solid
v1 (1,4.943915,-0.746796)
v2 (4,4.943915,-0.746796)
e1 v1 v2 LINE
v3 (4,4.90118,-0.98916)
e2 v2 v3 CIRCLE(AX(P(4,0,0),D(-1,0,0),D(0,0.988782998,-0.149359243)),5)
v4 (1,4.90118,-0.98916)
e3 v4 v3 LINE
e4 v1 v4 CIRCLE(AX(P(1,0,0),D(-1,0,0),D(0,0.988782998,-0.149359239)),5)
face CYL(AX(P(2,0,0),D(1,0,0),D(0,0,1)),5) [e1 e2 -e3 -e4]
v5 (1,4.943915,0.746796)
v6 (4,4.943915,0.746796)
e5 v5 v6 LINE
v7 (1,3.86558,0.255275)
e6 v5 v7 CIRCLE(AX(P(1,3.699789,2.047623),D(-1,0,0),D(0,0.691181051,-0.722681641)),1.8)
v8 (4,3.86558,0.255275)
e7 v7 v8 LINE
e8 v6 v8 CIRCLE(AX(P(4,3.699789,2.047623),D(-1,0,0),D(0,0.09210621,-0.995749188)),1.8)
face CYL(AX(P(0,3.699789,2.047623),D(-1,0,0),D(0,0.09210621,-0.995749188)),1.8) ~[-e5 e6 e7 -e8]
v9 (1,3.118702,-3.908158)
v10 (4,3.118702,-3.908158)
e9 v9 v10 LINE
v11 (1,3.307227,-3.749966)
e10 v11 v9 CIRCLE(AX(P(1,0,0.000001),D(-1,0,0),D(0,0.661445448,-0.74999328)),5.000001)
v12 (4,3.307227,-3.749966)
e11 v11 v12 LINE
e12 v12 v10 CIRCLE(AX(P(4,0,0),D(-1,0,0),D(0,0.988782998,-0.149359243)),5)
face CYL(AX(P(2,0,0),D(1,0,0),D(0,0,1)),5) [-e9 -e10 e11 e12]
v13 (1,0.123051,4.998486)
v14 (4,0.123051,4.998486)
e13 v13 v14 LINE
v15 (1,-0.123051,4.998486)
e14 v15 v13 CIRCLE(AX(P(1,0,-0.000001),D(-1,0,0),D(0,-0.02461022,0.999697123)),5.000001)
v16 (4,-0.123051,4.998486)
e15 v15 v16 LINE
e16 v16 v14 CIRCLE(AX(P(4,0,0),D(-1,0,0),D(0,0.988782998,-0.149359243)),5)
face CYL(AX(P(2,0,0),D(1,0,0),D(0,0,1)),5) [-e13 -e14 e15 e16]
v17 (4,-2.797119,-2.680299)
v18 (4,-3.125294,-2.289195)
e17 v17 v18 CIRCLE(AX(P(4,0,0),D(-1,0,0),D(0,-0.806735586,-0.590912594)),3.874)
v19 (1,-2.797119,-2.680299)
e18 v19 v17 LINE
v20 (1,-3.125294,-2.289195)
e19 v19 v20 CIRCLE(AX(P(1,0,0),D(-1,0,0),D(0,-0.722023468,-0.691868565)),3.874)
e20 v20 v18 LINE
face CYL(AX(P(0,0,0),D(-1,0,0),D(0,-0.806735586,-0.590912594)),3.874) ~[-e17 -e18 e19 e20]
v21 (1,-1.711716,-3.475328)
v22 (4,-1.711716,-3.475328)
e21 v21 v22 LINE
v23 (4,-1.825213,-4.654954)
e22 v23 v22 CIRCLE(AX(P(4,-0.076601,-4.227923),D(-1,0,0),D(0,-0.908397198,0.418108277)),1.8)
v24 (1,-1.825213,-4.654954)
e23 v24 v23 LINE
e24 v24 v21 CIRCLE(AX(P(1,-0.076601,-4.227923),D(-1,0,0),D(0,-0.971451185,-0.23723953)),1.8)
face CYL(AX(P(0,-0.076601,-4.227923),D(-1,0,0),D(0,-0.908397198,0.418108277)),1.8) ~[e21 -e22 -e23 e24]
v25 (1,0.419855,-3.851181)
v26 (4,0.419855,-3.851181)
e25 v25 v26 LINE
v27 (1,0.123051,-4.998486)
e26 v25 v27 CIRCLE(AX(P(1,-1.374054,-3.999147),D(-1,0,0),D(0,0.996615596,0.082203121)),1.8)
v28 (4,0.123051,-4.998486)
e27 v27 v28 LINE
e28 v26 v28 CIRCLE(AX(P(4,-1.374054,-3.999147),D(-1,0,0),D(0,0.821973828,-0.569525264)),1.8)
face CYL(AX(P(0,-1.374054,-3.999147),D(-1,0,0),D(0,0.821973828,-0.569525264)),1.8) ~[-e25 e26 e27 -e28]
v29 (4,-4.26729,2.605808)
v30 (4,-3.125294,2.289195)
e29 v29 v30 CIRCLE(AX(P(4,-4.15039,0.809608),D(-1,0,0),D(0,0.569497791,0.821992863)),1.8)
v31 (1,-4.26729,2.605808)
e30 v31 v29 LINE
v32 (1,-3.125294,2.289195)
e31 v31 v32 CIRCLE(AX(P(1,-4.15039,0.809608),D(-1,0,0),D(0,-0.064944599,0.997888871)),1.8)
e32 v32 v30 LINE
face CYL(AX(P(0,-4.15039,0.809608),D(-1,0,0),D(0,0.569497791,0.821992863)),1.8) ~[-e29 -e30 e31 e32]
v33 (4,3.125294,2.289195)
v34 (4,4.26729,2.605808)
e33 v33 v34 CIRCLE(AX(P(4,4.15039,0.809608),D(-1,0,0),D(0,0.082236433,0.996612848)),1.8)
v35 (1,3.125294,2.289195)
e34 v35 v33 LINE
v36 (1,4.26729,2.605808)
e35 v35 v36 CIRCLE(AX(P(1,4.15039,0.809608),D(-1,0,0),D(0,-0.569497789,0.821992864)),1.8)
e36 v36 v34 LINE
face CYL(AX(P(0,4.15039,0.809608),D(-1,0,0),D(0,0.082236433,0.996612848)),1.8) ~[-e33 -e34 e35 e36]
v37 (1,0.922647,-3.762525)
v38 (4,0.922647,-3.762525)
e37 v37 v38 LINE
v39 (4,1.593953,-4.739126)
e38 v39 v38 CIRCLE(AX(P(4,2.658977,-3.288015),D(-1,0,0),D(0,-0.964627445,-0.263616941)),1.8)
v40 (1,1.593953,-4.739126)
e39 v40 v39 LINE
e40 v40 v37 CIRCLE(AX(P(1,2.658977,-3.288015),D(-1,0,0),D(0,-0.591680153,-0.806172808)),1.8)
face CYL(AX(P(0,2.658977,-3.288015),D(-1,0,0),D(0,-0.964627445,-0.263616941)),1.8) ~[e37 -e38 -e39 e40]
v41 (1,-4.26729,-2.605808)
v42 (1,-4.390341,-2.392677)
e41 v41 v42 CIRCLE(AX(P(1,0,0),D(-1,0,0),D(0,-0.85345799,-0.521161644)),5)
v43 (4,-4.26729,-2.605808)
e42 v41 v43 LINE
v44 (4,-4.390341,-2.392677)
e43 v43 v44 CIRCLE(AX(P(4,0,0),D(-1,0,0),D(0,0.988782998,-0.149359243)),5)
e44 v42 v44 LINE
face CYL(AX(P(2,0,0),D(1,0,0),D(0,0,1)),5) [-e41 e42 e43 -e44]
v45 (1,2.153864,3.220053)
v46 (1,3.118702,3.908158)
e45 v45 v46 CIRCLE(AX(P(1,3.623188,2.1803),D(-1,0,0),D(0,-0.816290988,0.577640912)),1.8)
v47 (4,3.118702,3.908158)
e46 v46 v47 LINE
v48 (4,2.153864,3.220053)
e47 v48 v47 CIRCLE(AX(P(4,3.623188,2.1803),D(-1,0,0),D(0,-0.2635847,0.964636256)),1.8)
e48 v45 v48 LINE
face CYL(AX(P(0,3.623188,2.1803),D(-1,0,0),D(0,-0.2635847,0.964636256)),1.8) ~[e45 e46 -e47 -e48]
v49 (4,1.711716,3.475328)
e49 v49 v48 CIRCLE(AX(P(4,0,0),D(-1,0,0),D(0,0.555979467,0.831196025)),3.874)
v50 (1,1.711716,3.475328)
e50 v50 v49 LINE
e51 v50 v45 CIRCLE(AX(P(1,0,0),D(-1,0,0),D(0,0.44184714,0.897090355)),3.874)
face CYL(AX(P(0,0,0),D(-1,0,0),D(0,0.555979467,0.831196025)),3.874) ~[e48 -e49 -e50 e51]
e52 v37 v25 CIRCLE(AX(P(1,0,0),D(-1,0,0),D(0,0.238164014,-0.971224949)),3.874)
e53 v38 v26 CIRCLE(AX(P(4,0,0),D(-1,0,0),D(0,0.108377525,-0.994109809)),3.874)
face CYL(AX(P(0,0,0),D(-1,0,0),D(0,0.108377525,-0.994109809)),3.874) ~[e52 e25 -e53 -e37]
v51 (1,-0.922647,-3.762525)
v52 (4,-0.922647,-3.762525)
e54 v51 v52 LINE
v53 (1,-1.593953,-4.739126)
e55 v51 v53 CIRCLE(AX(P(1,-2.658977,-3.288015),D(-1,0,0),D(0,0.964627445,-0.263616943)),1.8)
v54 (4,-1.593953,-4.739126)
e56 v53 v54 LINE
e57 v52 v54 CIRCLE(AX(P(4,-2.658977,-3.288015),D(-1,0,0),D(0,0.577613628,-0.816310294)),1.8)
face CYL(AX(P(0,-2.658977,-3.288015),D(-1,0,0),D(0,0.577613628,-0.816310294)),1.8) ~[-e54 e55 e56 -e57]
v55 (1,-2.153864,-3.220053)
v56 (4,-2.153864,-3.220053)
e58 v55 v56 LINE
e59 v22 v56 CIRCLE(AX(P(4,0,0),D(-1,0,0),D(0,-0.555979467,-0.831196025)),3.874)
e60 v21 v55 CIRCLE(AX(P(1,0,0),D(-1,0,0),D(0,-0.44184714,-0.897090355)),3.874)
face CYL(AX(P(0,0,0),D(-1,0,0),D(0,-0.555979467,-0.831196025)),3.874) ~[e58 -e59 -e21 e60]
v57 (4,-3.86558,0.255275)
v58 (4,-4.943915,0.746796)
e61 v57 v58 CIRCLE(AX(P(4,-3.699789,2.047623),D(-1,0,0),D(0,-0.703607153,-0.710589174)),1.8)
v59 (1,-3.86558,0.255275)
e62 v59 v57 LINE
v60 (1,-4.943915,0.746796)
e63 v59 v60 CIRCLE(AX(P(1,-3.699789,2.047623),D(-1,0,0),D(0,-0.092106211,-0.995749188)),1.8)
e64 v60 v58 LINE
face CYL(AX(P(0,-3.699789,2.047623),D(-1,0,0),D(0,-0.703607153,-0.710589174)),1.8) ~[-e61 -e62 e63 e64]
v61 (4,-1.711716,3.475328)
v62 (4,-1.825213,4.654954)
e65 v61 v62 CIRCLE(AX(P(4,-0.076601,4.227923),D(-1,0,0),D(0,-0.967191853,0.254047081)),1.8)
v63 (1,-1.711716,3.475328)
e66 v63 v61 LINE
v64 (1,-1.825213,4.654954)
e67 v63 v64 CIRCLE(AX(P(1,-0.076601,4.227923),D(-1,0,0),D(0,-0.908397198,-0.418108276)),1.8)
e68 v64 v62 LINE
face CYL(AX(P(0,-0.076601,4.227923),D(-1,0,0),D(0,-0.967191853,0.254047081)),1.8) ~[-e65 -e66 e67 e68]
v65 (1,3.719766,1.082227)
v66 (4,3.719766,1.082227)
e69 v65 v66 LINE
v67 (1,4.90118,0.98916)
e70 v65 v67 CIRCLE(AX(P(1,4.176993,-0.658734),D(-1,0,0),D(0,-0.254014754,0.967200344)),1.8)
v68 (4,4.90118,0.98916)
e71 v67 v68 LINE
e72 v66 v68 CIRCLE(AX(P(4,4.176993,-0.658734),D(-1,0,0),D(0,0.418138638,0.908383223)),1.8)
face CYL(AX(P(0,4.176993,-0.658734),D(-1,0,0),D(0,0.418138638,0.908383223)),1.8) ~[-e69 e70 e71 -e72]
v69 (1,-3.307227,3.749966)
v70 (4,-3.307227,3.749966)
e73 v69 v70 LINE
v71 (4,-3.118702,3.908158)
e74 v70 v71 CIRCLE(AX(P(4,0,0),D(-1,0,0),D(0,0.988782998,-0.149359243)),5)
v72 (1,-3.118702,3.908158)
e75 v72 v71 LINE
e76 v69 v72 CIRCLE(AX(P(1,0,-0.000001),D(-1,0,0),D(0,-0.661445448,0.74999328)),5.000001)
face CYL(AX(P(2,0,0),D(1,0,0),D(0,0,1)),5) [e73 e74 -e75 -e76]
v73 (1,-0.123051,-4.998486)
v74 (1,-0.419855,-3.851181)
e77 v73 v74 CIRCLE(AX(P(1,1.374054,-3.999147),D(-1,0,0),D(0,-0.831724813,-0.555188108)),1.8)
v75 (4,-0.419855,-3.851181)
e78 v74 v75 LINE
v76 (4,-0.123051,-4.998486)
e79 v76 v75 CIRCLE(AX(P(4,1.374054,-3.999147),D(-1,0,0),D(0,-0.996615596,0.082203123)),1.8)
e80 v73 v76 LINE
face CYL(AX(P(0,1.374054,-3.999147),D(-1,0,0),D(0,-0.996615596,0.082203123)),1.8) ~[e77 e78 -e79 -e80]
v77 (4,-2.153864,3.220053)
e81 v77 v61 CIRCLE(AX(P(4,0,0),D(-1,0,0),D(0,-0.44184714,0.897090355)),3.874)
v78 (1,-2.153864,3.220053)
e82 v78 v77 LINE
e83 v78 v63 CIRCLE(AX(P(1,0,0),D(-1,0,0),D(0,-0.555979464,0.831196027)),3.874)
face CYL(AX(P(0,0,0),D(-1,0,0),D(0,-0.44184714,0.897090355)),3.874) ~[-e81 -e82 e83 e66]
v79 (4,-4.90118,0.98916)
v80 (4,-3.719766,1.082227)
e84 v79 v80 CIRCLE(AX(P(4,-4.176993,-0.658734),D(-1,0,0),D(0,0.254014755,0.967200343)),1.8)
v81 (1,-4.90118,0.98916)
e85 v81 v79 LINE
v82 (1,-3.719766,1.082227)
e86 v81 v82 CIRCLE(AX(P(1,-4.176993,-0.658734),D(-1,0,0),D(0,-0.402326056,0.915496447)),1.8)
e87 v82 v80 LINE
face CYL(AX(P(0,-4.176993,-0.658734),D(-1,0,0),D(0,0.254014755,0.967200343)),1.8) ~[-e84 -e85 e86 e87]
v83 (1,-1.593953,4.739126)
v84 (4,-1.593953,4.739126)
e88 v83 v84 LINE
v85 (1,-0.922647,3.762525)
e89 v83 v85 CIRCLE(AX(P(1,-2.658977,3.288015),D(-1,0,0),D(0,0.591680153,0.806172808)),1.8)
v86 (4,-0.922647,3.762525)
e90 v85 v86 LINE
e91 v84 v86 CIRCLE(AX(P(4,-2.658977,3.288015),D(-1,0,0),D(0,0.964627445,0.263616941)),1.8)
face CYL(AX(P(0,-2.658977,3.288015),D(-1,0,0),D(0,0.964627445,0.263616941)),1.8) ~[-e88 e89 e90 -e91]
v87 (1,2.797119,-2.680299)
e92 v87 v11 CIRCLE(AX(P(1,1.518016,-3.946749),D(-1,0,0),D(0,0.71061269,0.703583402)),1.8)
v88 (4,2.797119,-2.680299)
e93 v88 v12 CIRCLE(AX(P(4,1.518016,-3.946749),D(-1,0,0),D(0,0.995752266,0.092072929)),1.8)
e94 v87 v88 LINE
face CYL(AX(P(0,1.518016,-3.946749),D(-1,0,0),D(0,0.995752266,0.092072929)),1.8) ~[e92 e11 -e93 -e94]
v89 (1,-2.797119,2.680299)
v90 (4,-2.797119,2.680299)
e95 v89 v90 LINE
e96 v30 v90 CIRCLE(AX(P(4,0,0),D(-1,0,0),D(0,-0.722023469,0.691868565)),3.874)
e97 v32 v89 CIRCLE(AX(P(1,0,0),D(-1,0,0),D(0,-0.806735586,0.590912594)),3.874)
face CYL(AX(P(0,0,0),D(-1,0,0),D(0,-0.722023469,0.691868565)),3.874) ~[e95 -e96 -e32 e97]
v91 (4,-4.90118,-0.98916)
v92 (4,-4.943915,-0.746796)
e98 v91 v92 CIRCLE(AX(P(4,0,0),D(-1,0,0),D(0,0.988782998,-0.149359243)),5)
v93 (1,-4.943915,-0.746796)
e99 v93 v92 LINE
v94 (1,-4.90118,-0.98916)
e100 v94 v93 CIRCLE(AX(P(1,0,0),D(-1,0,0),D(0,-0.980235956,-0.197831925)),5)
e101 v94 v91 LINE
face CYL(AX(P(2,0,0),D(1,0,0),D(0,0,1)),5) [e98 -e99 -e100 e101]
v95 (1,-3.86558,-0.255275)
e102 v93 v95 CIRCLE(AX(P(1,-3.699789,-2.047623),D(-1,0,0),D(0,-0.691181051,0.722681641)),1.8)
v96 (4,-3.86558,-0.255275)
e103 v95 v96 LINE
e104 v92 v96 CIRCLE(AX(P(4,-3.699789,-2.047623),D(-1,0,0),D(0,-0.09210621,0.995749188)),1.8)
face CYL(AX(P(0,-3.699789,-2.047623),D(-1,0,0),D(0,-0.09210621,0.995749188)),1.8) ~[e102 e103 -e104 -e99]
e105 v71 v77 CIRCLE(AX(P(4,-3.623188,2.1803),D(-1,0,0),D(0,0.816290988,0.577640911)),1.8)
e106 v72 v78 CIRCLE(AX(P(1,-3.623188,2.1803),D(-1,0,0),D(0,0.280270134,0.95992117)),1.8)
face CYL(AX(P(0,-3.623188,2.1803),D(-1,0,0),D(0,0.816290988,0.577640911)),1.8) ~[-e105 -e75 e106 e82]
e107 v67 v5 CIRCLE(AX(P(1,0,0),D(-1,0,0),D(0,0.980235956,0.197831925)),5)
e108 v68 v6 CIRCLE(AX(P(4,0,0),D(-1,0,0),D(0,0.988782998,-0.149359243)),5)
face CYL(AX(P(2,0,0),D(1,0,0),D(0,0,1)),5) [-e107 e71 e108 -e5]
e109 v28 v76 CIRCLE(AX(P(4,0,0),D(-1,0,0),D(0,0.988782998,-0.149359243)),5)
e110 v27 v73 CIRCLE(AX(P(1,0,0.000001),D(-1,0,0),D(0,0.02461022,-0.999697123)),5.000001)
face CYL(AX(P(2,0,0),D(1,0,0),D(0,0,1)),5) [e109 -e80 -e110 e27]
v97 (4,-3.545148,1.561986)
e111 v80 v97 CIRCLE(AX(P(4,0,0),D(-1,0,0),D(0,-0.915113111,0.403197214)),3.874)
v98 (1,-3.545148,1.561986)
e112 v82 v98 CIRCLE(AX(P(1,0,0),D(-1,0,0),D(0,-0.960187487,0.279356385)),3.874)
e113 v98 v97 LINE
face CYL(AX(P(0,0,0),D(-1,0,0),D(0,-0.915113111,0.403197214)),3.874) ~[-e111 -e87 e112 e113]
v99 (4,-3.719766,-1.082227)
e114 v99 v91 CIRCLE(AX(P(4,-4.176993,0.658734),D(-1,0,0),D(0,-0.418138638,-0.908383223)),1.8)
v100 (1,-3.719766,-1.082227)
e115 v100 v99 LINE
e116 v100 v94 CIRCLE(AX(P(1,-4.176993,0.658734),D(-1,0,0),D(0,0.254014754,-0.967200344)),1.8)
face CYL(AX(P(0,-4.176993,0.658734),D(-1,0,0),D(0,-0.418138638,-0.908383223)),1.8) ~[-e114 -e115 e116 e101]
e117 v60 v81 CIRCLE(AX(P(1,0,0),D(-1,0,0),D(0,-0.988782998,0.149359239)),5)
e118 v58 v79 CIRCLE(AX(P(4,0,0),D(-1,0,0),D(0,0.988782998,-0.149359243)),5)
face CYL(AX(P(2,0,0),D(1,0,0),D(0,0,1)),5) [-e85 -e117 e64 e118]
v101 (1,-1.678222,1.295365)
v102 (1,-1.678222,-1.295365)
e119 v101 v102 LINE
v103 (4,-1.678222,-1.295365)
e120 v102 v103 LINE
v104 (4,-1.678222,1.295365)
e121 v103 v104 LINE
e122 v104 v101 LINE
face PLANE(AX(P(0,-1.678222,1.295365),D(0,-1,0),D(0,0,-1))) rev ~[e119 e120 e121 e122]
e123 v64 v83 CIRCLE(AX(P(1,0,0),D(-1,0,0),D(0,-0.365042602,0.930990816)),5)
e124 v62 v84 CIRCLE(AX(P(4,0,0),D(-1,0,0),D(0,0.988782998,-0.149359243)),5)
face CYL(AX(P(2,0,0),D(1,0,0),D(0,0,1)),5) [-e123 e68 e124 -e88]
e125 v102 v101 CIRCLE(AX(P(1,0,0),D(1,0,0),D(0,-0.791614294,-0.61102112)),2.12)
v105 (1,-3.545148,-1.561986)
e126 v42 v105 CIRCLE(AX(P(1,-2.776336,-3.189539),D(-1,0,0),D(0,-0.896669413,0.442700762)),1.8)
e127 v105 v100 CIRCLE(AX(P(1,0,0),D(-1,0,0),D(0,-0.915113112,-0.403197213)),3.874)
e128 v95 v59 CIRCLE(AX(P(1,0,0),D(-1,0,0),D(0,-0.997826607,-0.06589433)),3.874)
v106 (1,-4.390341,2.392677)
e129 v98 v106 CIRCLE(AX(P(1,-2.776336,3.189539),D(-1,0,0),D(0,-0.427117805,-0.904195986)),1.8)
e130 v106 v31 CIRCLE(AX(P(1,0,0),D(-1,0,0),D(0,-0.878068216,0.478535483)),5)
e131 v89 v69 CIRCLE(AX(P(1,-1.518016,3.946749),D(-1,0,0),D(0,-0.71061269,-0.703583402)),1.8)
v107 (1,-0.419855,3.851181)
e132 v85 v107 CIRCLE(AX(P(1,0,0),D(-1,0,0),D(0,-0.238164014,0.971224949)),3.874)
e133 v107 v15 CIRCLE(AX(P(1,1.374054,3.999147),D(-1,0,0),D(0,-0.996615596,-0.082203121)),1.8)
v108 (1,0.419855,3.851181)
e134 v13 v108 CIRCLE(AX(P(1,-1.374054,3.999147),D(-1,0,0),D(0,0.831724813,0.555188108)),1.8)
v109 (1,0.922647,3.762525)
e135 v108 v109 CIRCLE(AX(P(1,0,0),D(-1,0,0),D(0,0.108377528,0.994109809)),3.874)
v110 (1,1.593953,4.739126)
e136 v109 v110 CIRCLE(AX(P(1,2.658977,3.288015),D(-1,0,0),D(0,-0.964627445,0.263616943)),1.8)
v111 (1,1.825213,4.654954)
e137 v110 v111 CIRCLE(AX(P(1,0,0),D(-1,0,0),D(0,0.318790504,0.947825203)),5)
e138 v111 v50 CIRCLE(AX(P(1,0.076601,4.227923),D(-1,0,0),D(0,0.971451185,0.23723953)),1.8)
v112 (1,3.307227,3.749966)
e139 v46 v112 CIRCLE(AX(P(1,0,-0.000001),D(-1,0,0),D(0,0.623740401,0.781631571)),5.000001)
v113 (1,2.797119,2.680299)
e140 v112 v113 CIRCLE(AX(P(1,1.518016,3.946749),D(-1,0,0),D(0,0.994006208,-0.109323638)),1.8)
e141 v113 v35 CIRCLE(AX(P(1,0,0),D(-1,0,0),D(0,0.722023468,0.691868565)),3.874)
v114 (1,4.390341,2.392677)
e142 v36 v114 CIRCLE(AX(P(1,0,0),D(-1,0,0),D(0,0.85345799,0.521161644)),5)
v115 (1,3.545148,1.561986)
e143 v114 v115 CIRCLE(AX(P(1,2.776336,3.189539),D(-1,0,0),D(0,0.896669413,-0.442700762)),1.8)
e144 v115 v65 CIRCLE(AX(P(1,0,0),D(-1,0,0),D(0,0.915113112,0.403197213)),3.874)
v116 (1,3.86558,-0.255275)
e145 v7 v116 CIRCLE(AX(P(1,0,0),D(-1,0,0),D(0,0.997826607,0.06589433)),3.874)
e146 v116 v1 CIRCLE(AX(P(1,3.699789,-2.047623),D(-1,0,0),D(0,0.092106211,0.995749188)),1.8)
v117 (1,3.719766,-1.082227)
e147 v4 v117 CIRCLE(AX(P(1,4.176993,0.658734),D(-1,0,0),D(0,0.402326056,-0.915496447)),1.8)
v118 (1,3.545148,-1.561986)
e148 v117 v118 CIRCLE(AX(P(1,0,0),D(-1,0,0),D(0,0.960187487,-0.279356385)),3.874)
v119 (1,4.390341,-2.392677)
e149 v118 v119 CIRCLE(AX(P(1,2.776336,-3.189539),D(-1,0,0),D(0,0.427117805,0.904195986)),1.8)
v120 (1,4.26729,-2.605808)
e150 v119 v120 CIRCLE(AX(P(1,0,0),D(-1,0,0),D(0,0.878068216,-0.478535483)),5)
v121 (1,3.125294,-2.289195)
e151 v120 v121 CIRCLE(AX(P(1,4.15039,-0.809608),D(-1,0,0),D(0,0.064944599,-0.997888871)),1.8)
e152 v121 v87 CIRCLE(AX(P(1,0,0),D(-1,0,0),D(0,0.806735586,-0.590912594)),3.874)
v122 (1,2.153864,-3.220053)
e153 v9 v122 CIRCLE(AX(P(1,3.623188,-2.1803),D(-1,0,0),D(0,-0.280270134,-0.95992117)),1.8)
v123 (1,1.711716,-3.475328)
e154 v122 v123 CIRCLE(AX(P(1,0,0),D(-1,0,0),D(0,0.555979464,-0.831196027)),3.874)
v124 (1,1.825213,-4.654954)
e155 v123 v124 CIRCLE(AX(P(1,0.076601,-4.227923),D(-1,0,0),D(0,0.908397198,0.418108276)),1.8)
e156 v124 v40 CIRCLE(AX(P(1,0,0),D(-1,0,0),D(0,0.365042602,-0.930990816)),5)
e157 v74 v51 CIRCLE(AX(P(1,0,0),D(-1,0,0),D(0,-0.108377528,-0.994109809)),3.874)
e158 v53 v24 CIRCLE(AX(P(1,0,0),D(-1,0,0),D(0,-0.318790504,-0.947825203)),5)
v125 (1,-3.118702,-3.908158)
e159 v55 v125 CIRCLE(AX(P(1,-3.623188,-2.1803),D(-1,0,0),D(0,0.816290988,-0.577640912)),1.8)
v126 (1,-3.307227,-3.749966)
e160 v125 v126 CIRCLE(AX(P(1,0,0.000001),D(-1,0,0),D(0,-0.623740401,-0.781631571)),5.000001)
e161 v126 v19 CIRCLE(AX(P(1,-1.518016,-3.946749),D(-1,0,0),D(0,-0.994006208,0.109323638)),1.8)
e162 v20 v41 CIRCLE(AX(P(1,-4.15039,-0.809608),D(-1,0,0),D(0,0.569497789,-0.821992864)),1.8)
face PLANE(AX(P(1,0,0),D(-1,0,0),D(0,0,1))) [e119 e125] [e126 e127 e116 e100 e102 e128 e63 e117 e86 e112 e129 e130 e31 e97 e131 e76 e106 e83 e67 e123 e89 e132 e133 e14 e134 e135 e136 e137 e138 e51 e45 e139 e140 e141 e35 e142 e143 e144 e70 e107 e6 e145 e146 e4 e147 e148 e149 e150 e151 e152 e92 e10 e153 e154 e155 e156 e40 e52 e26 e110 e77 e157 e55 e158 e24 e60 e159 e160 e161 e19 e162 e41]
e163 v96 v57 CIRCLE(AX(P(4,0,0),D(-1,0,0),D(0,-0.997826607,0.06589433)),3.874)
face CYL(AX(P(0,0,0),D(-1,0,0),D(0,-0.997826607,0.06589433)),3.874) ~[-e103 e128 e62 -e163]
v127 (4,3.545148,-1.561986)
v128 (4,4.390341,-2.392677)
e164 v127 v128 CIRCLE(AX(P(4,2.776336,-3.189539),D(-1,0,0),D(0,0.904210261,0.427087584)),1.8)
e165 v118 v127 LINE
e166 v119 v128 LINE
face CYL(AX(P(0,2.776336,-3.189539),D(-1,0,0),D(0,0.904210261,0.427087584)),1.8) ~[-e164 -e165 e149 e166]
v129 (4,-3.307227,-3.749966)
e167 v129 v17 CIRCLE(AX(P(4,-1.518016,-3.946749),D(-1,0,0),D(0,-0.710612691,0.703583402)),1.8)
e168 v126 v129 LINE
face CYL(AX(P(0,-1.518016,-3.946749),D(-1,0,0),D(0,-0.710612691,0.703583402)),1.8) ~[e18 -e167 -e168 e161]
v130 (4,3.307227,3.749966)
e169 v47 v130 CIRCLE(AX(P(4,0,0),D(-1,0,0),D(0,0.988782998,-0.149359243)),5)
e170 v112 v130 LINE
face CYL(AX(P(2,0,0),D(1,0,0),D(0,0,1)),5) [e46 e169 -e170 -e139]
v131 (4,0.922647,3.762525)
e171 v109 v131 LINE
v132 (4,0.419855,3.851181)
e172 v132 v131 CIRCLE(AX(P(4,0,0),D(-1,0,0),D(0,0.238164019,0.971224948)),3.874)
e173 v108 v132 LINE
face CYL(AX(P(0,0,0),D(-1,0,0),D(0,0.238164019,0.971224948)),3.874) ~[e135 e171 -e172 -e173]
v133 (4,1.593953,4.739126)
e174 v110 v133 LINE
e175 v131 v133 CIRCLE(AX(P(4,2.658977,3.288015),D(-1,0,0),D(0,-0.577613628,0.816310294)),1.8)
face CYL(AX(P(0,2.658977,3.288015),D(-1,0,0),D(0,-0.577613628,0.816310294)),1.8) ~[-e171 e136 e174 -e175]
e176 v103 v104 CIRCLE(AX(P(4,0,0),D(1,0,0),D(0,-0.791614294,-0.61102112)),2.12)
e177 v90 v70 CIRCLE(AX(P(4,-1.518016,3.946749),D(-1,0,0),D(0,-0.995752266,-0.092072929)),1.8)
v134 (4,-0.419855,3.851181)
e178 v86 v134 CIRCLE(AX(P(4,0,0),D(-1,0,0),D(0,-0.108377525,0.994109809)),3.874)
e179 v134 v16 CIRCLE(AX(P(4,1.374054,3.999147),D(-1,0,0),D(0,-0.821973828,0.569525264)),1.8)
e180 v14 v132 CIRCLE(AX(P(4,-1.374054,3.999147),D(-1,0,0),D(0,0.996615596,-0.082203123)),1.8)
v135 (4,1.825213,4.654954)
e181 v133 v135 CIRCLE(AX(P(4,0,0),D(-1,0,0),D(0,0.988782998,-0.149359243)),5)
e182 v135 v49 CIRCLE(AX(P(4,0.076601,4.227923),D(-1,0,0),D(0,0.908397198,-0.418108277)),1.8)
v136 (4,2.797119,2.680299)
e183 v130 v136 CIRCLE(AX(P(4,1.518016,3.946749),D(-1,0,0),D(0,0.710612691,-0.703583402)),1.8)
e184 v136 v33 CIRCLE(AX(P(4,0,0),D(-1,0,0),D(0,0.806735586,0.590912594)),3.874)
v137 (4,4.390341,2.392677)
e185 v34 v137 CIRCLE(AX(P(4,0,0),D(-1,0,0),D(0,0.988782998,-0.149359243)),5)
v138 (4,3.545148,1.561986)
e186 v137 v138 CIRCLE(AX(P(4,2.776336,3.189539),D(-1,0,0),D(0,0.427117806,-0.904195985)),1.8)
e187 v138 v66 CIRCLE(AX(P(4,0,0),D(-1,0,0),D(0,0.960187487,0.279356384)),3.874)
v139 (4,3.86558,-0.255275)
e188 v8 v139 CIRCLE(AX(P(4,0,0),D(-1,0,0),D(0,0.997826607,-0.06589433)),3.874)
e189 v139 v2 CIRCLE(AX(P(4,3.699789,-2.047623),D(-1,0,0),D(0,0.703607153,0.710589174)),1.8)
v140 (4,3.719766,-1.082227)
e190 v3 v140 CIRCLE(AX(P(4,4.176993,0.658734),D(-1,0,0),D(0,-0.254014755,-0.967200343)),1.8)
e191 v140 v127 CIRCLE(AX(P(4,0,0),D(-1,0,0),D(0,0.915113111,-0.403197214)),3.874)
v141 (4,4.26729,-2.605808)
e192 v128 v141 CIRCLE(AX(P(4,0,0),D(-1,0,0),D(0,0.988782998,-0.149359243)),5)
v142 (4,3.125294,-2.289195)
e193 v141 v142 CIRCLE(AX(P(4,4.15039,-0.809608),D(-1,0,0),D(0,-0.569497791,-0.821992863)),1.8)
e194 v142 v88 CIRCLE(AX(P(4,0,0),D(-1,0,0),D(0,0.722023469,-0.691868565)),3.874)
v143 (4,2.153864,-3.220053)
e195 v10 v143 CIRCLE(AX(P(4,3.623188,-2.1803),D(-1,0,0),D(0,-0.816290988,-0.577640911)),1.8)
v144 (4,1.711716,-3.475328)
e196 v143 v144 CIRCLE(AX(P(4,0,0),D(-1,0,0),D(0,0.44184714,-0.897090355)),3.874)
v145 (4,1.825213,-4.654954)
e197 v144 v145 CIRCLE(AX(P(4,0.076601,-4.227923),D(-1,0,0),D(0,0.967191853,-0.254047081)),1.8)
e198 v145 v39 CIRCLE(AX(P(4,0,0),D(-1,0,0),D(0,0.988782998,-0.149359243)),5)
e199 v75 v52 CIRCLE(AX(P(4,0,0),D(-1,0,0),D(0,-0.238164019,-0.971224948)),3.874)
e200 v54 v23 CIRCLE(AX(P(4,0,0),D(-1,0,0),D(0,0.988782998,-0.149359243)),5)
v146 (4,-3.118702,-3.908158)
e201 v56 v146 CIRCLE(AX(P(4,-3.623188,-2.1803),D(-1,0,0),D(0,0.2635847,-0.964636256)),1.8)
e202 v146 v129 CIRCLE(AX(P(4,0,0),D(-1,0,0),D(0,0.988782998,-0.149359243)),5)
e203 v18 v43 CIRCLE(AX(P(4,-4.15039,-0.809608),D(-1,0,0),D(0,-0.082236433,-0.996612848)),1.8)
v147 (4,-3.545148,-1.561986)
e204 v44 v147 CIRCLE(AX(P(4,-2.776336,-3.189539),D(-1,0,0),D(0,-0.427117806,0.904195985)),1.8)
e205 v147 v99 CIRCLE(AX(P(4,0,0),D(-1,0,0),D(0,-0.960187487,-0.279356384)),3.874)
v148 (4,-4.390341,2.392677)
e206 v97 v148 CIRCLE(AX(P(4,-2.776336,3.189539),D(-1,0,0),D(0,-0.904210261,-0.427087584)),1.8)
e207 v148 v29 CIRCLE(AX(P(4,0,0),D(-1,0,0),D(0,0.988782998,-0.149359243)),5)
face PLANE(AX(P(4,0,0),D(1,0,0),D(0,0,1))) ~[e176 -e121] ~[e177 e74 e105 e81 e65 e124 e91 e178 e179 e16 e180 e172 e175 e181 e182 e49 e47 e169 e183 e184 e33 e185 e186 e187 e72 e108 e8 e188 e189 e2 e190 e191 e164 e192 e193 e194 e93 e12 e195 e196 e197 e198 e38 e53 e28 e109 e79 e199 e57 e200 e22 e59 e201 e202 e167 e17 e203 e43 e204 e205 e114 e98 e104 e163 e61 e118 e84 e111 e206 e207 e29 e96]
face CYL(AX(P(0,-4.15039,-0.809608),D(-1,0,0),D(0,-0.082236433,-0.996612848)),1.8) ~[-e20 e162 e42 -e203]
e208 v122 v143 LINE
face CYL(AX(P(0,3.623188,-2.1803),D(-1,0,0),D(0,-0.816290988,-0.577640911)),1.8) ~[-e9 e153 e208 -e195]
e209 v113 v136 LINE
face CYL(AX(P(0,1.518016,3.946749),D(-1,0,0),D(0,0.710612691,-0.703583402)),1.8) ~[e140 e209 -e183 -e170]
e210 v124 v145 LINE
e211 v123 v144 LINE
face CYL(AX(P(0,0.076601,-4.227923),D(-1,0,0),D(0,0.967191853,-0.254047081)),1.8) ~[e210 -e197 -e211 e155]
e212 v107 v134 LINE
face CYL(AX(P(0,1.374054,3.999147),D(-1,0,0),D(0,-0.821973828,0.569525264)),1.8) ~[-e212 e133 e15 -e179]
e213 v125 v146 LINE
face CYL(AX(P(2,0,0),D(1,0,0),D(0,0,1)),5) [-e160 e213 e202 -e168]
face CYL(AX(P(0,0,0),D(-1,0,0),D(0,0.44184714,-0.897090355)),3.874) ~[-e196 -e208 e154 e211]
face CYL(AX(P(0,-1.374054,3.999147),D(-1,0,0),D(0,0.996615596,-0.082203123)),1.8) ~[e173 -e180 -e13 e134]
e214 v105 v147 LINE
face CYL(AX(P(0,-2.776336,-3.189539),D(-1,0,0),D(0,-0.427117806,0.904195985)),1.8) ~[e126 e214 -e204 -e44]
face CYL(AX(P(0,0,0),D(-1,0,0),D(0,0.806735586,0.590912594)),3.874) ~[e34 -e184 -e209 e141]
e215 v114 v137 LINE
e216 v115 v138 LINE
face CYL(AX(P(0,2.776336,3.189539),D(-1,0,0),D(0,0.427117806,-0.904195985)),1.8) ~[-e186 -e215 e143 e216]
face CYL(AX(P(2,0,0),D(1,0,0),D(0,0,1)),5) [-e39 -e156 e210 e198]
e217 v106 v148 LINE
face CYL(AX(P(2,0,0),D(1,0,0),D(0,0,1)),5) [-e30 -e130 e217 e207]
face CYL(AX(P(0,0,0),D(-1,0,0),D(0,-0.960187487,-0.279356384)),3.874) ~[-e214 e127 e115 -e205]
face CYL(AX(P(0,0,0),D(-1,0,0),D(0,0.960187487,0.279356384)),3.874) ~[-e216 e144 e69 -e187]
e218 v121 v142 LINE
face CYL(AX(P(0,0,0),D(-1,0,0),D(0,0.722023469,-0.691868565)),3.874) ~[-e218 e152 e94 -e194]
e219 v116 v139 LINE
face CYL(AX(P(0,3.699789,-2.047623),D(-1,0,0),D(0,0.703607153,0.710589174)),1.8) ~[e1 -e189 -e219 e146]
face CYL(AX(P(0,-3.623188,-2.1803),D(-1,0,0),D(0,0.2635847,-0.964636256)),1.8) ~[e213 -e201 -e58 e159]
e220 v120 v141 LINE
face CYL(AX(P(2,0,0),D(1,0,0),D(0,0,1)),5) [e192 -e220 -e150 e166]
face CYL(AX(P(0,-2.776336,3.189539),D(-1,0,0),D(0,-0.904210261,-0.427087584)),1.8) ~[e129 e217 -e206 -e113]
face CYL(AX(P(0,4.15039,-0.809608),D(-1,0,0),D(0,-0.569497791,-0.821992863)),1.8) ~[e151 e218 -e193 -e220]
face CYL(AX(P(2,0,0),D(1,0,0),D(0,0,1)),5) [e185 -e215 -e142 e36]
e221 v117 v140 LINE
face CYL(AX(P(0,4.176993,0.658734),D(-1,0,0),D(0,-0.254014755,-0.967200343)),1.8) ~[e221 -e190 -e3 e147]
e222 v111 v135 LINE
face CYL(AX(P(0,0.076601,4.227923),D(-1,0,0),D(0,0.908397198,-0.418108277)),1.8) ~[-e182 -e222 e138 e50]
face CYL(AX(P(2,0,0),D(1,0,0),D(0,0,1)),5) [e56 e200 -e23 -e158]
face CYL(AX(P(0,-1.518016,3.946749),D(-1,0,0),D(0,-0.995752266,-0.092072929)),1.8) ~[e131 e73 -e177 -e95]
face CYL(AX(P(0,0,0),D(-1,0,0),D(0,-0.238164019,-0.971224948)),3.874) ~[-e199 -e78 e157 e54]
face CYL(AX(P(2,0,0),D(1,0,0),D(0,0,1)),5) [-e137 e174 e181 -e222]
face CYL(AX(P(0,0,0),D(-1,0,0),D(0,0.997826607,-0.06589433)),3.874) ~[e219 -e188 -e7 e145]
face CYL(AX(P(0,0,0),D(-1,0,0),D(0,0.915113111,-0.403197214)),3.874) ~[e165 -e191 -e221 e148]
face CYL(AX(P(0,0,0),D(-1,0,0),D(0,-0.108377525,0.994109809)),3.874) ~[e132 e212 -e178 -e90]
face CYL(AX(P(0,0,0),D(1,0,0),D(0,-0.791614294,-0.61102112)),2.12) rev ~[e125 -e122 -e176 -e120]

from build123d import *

# Parameters (mm, degrees)
BASPROSKE_W        = 4
BASPROSKE_H        = 5
TOOTHCUT_DEPTH     = 9.124038405
TEETHCUTS_COUNT    = 18
TEETHCUTS_ANGLE    = 340
BORE_DEPTH         = 50.0000508
CUT_EXTRUDE1_DEPTH = 1


with BuildPart() as part:
    # BasProSke → Base-Revolve (revolve)
    with BuildSketch(Plane(origin=(0, 0, 0), x_dir=(1, 0, 0), z_dir=(0, 1, 0)), mode=Mode.PRIVATE) as base_revolve_sk:
        with Locations((2, 2.5)):
            Rectangle(BASPROSKE_W, BASPROSKE_H)
    revolve(base_revolve_sk.sketch.rotate(Axis((-10, 0, 0), (1, 0, 0)), 180), axis=Axis((-10, 0, 0), (1, 0, 0)))

    # TooCutSke → ToothCut (cut, through all)
    with BuildSketch(Plane(origin=(0, 0, 0), x_dir=(0, 0, -1), z_dir=(1, 0, 0))):
        with BuildLine():
            ThreePointArc((0.25527463, 3.865580275), (0, 3.874), (-0.25527463, 3.865580275))
            ThreePointArc((-0.25527463, 3.865580275), (-0.416281865, 4.46052923), (-0.768562654, 4.96628197))
            ThreePointArc((-0.768562654, 4.96628197), (0, 5.0254), (0.768562654, 4.96628197))
            ThreePointArc((0.768562654, 4.96628197), (0.416281865, 4.46052923), (0.25527463, 3.865580275))
        make_face()
    toothcut = extrude(amount=TOOTHCUT_DEPTH, mode=Mode.SUBTRACT)

    # TeethCuts: ToothCut ×18 about axis
    teethcuts_axis = Axis((-10, 0, 0), (1, 0, 0))
    for i in range(1, TEETHCUTS_COUNT):
        add(toothcut.rotate(teethcuts_axis, i * TEETHCUTS_ANGLE / (TEETHCUTS_COUNT - 1)), mode=Mode.SUBTRACT)

    # BorSke → Bore (cut, symmetric)
    with BuildSketch(Plane(origin=(0, 0, 0), x_dir=(0, 0, -1), z_dir=(1, 0, 0))):
        with BuildLine():
            Line((-1.295364774, -1.678222304), (1.295364774, -1.678222304))
            ThreePointArc((1.295364774, -1.678222304), (0, 2.12), (-1.295364774, -1.678222304))
        make_face()
    extrude(amount=BORE_DEPTH, both=True, mode=Mode.SUBTRACT)

    # Sketch1 → Cut-Extrude1 (cut)
    with BuildSketch(Plane.ZY):
        with BuildLine():
            ThreePointArc((3.220053404, 2.153864452), (3.645784857, 2.578031095), (3.908157867, 3.118701988))
            ThreePointArc((3.908157867, 3.118701988), (3.830222216, 3.213938048), (3.749966389, 3.30722725))
            ThreePointArc((3.749966389, 3.30722725), (3.171948906, 3.142726791), (2.680298817, 2.79711892))
            ThreePointArc((2.680298817, 2.79711892), (2.4901592, 2.967656173), (2.289195394, 3.125293658))
            ThreePointArc((2.289195394, 3.125293658), (2.544178562, 3.669488655), (2.605808207, 4.267289958))
            ThreePointArc((2.605808207, 4.267289958), (2.5, 4.330127019), (2.392677406, 4.390341084))
            ThreePointArc((2.392677406, 4.390341084), (1.905781113, 4.038067594), (1.561986006, 3.545148194))
            ThreePointArc((1.561986006, 3.545148194), (1.324986035, 3.640369213), (1.082226634, 3.719766325))
            ThreePointArc((1.082226634, 3.719766325), (1.135706785, 4.318351728), (0.98915962, 4.901179781))
            ThreePointArc((0.98915962, 4.901179781), (0.868240888, 4.924038765), (0.746796215, 4.943914988))
            ThreePointArc((0.746796215, 4.943914988), (0.409747992, 4.44635785), (0.25527463, 3.865580275))
            ThreePointArc((0.25527463, 3.865580275), (0, 3.874), (-0.25527463, 3.865580275))
            ThreePointArc((-0.25527463, 3.865580275), (-0.409747992, 4.44635785), (-0.746796215, 4.943914988))
            ThreePointArc((-0.746796215, 4.943914988), (-0.868240888, 4.924038765), (-0.98915962, 4.901179781))
            ThreePointArc((-0.98915962, 4.901179781), (-1.135706785, 4.318351728), (-1.082226634, 3.719766325))
            ThreePointArc((-1.082226634, 3.719766325), (-1.324986035, 3.640369213), (-1.561986006, 3.545148194))
            ThreePointArc((-1.561986006, 3.545148194), (-1.905781113, 4.038067594), (-2.392677406, 4.390341084))
            ThreePointArc((-2.392677406, 4.390341084), (-2.5, 4.330127019), (-2.605808207, 4.267289958))
            ThreePointArc((-2.605808207, 4.267289958), (-2.544178562, 3.669488655), (-2.289195394, 3.125293658))
            ThreePointArc((-2.289195394, 3.125293658), (-2.4901592, 2.967656173), (-2.680298817, 2.79711892))
            ThreePointArc((-2.680298817, 2.79711892), (-3.171948906, 3.142726791), (-3.749966389, 3.30722725))
            ThreePointArc((-3.749966389, 3.30722725), (-3.830222216, 3.213938048), (-3.908157867, 3.118701988))
            ThreePointArc((-3.908157867, 3.118701988), (-3.645784857, 2.578031095), (-3.220053404, 2.153864452))
            ThreePointArc((-3.220053404, 2.153864452), (-3.354982414, 1.937), (-3.475328033, 1.711715823))
            ThreePointArc((-3.475328033, 1.711715823), (-4.055532848, 1.868326755), (-4.654954082, 1.825213))
            ThreePointArc((-4.654954082, 1.825213), (-4.698463104, 1.710100717), (-4.739126009, 1.593952531))
            ThreePointArc((-4.739126009, 1.593952531), (-4.307655691, 1.175624937), (-3.762525451, 0.922647405))
            ThreePointArc((-3.762525451, 0.922647405), (-3.815145235, 0.67271304), (-3.851181399, 0.419854536))
            ThreePointArc((-3.851181399, 0.419854536), (-4.449959675, 0.368578939), (-4.998485613, 0.123051126))
            ThreePointArc((-4.998485613, 0.123051126), (-5, 0), (-4.998485613, -0.123051126))
            ThreePointArc((-4.998485613, -0.123051126), (-4.449959675, -0.368578939), (-3.851181399, -0.419854536))
            ThreePointArc((-3.851181399, -0.419854536), (-3.815145235, -0.67271304), (-3.762525451, -0.922647405))
            ThreePointArc((-3.762525451, -0.922647405), (-4.307655691, -1.175624937), (-4.739126009, -1.593952531))
            ThreePointArc((-4.739126009, -1.593952531), (-4.698463104, -1.710100717), (-4.654954082, -1.825213))
            ThreePointArc((-4.654954082, -1.825213), (-4.055532848, -1.868326755), (-3.475328033, -1.711715823))
            ThreePointArc((-3.475328033, -1.711715823), (-3.354982414, -1.937), (-3.220053404, -2.153864452))
            ThreePointArc((-3.220053404, -2.153864452), (-3.645784857, -2.578031095), (-3.908157867, -3.118701988))
            ThreePointArc((-3.908157867, -3.118701988), (-3.830222216, -3.213938048), (-3.749966389, -3.30722725))
            ThreePointArc((-3.749966389, -3.30722725), (-3.171948906, -3.142726791), (-2.680298817, -2.79711892))
            ThreePointArc((-2.680298817, -2.79711892), (-2.4901592, -2.967656173), (-2.289195394, -3.125293658))
            ThreePointArc((-2.289195394, -3.125293658), (-2.544178562, -3.669488655), (-2.605808207, -4.267289958))
            ThreePointArc((-2.605808207, -4.267289958), (-2.5, -4.330127019), (-2.392677406, -4.390341084))
            ThreePointArc((-2.392677406, -4.390341084), (-1.905781113, -4.038067594), (-1.561986006, -3.545148194))
            ThreePointArc((-1.561986006, -3.545148194), (-1.324986035, -3.640369213), (-1.082226634, -3.719766325))
            ThreePointArc((-1.082226634, -3.719766325), (-1.135706785, -4.318351728), (-0.98915962, -4.901179781))
            ThreePointArc((-0.98915962, -4.901179781), (-0.868240888, -4.924038765), (-0.746796215, -4.943914988))
            ThreePointArc((-0.746796215, -4.943914988), (-0.409747992, -4.44635785), (-0.25527463, -3.865580275))
            ThreePointArc((-0.25527463, -3.865580275), (0, -3.874), (0.25527463, -3.865580275))
            ThreePointArc((0.25527463, -3.865580275), (0.409747992, -4.44635785), (0.746796215, -4.943914988))
            ThreePointArc((0.746796215, -4.943914988), (0.868240888, -4.924038765), (0.98915962, -4.901179781))
            ThreePointArc((0.98915962, -4.901179781), (1.135706785, -4.318351728), (1.082226634, -3.719766325))
            ThreePointArc((1.082226634, -3.719766325), (1.324986035, -3.640369213), (1.561986006, -3.545148194))
            ThreePointArc((1.561986006, -3.545148194), (1.905781113, -4.038067594), (2.392677406, -4.390341084))
            ThreePointArc((2.392677406, -4.390341084), (2.5, -4.330127019), (2.605808207, -4.267289958))
            ThreePointArc((2.605808207, -4.267289958), (2.544178562, -3.669488655), (2.289195394, -3.125293658))
            ThreePointArc((2.289195394, -3.125293658), (2.4901592, -2.967656173), (2.680298817, -2.79711892))
            ThreePointArc((2.680298817, -2.79711892), (3.171948906, -3.142726791), (3.749966389, -3.30722725))
            ThreePointArc((3.749966389, -3.30722725), (3.830222216, -3.213938048), (3.908157867, -3.118701988))
            ThreePointArc((3.908157867, -3.118701988), (3.645784857, -2.578031095), (3.220053404, -2.153864452))
            ThreePointArc((3.220053404, -2.153864452), (3.354982414, -1.937), (3.475328033, -1.711715823))
            ThreePointArc((3.475328033, -1.711715823), (4.055532848, -1.868326755), (4.654954082, -1.825213))
            ThreePointArc((4.654954082, -1.825213), (4.698463104, -1.710100717), (4.739126009, -1.593952531))
            ThreePointArc((4.739126009, -1.593952531), (4.307655691, -1.175624937), (3.762525451, -0.922647405))
            ThreePointArc((3.762525451, -0.922647405), (3.815145235, -0.67271304), (3.851181399, -0.419854536))
            ThreePointArc((3.851181399, -0.419854536), (4.449959675, -0.368578939), (4.998485613, -0.123051126))
            ThreePointArc((4.998485613, -0.123051126), (5, 0), (4.998485613, 0.123051126))
            ThreePointArc((4.998485613, 0.123051126), (4.449959675, 0.368578939), (3.851181399, 0.419854536))
            ThreePointArc((3.851181399, 0.419854536), (3.815145235, 0.67271304), (3.762525451, 0.922647405))
            ThreePointArc((3.762525451, 0.922647405), (4.307655691, 1.175624937), (4.739126009, 1.593952531))
            ThreePointArc((4.739126009, 1.593952531), (4.698463104, 1.710100717), (4.654954082, 1.825213))
            ThreePointArc((4.654954082, 1.825213), (4.055532848, 1.868326755), (3.475328033, 1.711715823))
            ThreePointArc((3.475328033, 1.711715823), (3.354982414, 1.937), (3.220053404, 2.153864452))
        make_face()
    extrude(amount=-CUT_EXTRUDE1_DEPTH, mode=Mode.SUBTRACT)


solid = part.part
